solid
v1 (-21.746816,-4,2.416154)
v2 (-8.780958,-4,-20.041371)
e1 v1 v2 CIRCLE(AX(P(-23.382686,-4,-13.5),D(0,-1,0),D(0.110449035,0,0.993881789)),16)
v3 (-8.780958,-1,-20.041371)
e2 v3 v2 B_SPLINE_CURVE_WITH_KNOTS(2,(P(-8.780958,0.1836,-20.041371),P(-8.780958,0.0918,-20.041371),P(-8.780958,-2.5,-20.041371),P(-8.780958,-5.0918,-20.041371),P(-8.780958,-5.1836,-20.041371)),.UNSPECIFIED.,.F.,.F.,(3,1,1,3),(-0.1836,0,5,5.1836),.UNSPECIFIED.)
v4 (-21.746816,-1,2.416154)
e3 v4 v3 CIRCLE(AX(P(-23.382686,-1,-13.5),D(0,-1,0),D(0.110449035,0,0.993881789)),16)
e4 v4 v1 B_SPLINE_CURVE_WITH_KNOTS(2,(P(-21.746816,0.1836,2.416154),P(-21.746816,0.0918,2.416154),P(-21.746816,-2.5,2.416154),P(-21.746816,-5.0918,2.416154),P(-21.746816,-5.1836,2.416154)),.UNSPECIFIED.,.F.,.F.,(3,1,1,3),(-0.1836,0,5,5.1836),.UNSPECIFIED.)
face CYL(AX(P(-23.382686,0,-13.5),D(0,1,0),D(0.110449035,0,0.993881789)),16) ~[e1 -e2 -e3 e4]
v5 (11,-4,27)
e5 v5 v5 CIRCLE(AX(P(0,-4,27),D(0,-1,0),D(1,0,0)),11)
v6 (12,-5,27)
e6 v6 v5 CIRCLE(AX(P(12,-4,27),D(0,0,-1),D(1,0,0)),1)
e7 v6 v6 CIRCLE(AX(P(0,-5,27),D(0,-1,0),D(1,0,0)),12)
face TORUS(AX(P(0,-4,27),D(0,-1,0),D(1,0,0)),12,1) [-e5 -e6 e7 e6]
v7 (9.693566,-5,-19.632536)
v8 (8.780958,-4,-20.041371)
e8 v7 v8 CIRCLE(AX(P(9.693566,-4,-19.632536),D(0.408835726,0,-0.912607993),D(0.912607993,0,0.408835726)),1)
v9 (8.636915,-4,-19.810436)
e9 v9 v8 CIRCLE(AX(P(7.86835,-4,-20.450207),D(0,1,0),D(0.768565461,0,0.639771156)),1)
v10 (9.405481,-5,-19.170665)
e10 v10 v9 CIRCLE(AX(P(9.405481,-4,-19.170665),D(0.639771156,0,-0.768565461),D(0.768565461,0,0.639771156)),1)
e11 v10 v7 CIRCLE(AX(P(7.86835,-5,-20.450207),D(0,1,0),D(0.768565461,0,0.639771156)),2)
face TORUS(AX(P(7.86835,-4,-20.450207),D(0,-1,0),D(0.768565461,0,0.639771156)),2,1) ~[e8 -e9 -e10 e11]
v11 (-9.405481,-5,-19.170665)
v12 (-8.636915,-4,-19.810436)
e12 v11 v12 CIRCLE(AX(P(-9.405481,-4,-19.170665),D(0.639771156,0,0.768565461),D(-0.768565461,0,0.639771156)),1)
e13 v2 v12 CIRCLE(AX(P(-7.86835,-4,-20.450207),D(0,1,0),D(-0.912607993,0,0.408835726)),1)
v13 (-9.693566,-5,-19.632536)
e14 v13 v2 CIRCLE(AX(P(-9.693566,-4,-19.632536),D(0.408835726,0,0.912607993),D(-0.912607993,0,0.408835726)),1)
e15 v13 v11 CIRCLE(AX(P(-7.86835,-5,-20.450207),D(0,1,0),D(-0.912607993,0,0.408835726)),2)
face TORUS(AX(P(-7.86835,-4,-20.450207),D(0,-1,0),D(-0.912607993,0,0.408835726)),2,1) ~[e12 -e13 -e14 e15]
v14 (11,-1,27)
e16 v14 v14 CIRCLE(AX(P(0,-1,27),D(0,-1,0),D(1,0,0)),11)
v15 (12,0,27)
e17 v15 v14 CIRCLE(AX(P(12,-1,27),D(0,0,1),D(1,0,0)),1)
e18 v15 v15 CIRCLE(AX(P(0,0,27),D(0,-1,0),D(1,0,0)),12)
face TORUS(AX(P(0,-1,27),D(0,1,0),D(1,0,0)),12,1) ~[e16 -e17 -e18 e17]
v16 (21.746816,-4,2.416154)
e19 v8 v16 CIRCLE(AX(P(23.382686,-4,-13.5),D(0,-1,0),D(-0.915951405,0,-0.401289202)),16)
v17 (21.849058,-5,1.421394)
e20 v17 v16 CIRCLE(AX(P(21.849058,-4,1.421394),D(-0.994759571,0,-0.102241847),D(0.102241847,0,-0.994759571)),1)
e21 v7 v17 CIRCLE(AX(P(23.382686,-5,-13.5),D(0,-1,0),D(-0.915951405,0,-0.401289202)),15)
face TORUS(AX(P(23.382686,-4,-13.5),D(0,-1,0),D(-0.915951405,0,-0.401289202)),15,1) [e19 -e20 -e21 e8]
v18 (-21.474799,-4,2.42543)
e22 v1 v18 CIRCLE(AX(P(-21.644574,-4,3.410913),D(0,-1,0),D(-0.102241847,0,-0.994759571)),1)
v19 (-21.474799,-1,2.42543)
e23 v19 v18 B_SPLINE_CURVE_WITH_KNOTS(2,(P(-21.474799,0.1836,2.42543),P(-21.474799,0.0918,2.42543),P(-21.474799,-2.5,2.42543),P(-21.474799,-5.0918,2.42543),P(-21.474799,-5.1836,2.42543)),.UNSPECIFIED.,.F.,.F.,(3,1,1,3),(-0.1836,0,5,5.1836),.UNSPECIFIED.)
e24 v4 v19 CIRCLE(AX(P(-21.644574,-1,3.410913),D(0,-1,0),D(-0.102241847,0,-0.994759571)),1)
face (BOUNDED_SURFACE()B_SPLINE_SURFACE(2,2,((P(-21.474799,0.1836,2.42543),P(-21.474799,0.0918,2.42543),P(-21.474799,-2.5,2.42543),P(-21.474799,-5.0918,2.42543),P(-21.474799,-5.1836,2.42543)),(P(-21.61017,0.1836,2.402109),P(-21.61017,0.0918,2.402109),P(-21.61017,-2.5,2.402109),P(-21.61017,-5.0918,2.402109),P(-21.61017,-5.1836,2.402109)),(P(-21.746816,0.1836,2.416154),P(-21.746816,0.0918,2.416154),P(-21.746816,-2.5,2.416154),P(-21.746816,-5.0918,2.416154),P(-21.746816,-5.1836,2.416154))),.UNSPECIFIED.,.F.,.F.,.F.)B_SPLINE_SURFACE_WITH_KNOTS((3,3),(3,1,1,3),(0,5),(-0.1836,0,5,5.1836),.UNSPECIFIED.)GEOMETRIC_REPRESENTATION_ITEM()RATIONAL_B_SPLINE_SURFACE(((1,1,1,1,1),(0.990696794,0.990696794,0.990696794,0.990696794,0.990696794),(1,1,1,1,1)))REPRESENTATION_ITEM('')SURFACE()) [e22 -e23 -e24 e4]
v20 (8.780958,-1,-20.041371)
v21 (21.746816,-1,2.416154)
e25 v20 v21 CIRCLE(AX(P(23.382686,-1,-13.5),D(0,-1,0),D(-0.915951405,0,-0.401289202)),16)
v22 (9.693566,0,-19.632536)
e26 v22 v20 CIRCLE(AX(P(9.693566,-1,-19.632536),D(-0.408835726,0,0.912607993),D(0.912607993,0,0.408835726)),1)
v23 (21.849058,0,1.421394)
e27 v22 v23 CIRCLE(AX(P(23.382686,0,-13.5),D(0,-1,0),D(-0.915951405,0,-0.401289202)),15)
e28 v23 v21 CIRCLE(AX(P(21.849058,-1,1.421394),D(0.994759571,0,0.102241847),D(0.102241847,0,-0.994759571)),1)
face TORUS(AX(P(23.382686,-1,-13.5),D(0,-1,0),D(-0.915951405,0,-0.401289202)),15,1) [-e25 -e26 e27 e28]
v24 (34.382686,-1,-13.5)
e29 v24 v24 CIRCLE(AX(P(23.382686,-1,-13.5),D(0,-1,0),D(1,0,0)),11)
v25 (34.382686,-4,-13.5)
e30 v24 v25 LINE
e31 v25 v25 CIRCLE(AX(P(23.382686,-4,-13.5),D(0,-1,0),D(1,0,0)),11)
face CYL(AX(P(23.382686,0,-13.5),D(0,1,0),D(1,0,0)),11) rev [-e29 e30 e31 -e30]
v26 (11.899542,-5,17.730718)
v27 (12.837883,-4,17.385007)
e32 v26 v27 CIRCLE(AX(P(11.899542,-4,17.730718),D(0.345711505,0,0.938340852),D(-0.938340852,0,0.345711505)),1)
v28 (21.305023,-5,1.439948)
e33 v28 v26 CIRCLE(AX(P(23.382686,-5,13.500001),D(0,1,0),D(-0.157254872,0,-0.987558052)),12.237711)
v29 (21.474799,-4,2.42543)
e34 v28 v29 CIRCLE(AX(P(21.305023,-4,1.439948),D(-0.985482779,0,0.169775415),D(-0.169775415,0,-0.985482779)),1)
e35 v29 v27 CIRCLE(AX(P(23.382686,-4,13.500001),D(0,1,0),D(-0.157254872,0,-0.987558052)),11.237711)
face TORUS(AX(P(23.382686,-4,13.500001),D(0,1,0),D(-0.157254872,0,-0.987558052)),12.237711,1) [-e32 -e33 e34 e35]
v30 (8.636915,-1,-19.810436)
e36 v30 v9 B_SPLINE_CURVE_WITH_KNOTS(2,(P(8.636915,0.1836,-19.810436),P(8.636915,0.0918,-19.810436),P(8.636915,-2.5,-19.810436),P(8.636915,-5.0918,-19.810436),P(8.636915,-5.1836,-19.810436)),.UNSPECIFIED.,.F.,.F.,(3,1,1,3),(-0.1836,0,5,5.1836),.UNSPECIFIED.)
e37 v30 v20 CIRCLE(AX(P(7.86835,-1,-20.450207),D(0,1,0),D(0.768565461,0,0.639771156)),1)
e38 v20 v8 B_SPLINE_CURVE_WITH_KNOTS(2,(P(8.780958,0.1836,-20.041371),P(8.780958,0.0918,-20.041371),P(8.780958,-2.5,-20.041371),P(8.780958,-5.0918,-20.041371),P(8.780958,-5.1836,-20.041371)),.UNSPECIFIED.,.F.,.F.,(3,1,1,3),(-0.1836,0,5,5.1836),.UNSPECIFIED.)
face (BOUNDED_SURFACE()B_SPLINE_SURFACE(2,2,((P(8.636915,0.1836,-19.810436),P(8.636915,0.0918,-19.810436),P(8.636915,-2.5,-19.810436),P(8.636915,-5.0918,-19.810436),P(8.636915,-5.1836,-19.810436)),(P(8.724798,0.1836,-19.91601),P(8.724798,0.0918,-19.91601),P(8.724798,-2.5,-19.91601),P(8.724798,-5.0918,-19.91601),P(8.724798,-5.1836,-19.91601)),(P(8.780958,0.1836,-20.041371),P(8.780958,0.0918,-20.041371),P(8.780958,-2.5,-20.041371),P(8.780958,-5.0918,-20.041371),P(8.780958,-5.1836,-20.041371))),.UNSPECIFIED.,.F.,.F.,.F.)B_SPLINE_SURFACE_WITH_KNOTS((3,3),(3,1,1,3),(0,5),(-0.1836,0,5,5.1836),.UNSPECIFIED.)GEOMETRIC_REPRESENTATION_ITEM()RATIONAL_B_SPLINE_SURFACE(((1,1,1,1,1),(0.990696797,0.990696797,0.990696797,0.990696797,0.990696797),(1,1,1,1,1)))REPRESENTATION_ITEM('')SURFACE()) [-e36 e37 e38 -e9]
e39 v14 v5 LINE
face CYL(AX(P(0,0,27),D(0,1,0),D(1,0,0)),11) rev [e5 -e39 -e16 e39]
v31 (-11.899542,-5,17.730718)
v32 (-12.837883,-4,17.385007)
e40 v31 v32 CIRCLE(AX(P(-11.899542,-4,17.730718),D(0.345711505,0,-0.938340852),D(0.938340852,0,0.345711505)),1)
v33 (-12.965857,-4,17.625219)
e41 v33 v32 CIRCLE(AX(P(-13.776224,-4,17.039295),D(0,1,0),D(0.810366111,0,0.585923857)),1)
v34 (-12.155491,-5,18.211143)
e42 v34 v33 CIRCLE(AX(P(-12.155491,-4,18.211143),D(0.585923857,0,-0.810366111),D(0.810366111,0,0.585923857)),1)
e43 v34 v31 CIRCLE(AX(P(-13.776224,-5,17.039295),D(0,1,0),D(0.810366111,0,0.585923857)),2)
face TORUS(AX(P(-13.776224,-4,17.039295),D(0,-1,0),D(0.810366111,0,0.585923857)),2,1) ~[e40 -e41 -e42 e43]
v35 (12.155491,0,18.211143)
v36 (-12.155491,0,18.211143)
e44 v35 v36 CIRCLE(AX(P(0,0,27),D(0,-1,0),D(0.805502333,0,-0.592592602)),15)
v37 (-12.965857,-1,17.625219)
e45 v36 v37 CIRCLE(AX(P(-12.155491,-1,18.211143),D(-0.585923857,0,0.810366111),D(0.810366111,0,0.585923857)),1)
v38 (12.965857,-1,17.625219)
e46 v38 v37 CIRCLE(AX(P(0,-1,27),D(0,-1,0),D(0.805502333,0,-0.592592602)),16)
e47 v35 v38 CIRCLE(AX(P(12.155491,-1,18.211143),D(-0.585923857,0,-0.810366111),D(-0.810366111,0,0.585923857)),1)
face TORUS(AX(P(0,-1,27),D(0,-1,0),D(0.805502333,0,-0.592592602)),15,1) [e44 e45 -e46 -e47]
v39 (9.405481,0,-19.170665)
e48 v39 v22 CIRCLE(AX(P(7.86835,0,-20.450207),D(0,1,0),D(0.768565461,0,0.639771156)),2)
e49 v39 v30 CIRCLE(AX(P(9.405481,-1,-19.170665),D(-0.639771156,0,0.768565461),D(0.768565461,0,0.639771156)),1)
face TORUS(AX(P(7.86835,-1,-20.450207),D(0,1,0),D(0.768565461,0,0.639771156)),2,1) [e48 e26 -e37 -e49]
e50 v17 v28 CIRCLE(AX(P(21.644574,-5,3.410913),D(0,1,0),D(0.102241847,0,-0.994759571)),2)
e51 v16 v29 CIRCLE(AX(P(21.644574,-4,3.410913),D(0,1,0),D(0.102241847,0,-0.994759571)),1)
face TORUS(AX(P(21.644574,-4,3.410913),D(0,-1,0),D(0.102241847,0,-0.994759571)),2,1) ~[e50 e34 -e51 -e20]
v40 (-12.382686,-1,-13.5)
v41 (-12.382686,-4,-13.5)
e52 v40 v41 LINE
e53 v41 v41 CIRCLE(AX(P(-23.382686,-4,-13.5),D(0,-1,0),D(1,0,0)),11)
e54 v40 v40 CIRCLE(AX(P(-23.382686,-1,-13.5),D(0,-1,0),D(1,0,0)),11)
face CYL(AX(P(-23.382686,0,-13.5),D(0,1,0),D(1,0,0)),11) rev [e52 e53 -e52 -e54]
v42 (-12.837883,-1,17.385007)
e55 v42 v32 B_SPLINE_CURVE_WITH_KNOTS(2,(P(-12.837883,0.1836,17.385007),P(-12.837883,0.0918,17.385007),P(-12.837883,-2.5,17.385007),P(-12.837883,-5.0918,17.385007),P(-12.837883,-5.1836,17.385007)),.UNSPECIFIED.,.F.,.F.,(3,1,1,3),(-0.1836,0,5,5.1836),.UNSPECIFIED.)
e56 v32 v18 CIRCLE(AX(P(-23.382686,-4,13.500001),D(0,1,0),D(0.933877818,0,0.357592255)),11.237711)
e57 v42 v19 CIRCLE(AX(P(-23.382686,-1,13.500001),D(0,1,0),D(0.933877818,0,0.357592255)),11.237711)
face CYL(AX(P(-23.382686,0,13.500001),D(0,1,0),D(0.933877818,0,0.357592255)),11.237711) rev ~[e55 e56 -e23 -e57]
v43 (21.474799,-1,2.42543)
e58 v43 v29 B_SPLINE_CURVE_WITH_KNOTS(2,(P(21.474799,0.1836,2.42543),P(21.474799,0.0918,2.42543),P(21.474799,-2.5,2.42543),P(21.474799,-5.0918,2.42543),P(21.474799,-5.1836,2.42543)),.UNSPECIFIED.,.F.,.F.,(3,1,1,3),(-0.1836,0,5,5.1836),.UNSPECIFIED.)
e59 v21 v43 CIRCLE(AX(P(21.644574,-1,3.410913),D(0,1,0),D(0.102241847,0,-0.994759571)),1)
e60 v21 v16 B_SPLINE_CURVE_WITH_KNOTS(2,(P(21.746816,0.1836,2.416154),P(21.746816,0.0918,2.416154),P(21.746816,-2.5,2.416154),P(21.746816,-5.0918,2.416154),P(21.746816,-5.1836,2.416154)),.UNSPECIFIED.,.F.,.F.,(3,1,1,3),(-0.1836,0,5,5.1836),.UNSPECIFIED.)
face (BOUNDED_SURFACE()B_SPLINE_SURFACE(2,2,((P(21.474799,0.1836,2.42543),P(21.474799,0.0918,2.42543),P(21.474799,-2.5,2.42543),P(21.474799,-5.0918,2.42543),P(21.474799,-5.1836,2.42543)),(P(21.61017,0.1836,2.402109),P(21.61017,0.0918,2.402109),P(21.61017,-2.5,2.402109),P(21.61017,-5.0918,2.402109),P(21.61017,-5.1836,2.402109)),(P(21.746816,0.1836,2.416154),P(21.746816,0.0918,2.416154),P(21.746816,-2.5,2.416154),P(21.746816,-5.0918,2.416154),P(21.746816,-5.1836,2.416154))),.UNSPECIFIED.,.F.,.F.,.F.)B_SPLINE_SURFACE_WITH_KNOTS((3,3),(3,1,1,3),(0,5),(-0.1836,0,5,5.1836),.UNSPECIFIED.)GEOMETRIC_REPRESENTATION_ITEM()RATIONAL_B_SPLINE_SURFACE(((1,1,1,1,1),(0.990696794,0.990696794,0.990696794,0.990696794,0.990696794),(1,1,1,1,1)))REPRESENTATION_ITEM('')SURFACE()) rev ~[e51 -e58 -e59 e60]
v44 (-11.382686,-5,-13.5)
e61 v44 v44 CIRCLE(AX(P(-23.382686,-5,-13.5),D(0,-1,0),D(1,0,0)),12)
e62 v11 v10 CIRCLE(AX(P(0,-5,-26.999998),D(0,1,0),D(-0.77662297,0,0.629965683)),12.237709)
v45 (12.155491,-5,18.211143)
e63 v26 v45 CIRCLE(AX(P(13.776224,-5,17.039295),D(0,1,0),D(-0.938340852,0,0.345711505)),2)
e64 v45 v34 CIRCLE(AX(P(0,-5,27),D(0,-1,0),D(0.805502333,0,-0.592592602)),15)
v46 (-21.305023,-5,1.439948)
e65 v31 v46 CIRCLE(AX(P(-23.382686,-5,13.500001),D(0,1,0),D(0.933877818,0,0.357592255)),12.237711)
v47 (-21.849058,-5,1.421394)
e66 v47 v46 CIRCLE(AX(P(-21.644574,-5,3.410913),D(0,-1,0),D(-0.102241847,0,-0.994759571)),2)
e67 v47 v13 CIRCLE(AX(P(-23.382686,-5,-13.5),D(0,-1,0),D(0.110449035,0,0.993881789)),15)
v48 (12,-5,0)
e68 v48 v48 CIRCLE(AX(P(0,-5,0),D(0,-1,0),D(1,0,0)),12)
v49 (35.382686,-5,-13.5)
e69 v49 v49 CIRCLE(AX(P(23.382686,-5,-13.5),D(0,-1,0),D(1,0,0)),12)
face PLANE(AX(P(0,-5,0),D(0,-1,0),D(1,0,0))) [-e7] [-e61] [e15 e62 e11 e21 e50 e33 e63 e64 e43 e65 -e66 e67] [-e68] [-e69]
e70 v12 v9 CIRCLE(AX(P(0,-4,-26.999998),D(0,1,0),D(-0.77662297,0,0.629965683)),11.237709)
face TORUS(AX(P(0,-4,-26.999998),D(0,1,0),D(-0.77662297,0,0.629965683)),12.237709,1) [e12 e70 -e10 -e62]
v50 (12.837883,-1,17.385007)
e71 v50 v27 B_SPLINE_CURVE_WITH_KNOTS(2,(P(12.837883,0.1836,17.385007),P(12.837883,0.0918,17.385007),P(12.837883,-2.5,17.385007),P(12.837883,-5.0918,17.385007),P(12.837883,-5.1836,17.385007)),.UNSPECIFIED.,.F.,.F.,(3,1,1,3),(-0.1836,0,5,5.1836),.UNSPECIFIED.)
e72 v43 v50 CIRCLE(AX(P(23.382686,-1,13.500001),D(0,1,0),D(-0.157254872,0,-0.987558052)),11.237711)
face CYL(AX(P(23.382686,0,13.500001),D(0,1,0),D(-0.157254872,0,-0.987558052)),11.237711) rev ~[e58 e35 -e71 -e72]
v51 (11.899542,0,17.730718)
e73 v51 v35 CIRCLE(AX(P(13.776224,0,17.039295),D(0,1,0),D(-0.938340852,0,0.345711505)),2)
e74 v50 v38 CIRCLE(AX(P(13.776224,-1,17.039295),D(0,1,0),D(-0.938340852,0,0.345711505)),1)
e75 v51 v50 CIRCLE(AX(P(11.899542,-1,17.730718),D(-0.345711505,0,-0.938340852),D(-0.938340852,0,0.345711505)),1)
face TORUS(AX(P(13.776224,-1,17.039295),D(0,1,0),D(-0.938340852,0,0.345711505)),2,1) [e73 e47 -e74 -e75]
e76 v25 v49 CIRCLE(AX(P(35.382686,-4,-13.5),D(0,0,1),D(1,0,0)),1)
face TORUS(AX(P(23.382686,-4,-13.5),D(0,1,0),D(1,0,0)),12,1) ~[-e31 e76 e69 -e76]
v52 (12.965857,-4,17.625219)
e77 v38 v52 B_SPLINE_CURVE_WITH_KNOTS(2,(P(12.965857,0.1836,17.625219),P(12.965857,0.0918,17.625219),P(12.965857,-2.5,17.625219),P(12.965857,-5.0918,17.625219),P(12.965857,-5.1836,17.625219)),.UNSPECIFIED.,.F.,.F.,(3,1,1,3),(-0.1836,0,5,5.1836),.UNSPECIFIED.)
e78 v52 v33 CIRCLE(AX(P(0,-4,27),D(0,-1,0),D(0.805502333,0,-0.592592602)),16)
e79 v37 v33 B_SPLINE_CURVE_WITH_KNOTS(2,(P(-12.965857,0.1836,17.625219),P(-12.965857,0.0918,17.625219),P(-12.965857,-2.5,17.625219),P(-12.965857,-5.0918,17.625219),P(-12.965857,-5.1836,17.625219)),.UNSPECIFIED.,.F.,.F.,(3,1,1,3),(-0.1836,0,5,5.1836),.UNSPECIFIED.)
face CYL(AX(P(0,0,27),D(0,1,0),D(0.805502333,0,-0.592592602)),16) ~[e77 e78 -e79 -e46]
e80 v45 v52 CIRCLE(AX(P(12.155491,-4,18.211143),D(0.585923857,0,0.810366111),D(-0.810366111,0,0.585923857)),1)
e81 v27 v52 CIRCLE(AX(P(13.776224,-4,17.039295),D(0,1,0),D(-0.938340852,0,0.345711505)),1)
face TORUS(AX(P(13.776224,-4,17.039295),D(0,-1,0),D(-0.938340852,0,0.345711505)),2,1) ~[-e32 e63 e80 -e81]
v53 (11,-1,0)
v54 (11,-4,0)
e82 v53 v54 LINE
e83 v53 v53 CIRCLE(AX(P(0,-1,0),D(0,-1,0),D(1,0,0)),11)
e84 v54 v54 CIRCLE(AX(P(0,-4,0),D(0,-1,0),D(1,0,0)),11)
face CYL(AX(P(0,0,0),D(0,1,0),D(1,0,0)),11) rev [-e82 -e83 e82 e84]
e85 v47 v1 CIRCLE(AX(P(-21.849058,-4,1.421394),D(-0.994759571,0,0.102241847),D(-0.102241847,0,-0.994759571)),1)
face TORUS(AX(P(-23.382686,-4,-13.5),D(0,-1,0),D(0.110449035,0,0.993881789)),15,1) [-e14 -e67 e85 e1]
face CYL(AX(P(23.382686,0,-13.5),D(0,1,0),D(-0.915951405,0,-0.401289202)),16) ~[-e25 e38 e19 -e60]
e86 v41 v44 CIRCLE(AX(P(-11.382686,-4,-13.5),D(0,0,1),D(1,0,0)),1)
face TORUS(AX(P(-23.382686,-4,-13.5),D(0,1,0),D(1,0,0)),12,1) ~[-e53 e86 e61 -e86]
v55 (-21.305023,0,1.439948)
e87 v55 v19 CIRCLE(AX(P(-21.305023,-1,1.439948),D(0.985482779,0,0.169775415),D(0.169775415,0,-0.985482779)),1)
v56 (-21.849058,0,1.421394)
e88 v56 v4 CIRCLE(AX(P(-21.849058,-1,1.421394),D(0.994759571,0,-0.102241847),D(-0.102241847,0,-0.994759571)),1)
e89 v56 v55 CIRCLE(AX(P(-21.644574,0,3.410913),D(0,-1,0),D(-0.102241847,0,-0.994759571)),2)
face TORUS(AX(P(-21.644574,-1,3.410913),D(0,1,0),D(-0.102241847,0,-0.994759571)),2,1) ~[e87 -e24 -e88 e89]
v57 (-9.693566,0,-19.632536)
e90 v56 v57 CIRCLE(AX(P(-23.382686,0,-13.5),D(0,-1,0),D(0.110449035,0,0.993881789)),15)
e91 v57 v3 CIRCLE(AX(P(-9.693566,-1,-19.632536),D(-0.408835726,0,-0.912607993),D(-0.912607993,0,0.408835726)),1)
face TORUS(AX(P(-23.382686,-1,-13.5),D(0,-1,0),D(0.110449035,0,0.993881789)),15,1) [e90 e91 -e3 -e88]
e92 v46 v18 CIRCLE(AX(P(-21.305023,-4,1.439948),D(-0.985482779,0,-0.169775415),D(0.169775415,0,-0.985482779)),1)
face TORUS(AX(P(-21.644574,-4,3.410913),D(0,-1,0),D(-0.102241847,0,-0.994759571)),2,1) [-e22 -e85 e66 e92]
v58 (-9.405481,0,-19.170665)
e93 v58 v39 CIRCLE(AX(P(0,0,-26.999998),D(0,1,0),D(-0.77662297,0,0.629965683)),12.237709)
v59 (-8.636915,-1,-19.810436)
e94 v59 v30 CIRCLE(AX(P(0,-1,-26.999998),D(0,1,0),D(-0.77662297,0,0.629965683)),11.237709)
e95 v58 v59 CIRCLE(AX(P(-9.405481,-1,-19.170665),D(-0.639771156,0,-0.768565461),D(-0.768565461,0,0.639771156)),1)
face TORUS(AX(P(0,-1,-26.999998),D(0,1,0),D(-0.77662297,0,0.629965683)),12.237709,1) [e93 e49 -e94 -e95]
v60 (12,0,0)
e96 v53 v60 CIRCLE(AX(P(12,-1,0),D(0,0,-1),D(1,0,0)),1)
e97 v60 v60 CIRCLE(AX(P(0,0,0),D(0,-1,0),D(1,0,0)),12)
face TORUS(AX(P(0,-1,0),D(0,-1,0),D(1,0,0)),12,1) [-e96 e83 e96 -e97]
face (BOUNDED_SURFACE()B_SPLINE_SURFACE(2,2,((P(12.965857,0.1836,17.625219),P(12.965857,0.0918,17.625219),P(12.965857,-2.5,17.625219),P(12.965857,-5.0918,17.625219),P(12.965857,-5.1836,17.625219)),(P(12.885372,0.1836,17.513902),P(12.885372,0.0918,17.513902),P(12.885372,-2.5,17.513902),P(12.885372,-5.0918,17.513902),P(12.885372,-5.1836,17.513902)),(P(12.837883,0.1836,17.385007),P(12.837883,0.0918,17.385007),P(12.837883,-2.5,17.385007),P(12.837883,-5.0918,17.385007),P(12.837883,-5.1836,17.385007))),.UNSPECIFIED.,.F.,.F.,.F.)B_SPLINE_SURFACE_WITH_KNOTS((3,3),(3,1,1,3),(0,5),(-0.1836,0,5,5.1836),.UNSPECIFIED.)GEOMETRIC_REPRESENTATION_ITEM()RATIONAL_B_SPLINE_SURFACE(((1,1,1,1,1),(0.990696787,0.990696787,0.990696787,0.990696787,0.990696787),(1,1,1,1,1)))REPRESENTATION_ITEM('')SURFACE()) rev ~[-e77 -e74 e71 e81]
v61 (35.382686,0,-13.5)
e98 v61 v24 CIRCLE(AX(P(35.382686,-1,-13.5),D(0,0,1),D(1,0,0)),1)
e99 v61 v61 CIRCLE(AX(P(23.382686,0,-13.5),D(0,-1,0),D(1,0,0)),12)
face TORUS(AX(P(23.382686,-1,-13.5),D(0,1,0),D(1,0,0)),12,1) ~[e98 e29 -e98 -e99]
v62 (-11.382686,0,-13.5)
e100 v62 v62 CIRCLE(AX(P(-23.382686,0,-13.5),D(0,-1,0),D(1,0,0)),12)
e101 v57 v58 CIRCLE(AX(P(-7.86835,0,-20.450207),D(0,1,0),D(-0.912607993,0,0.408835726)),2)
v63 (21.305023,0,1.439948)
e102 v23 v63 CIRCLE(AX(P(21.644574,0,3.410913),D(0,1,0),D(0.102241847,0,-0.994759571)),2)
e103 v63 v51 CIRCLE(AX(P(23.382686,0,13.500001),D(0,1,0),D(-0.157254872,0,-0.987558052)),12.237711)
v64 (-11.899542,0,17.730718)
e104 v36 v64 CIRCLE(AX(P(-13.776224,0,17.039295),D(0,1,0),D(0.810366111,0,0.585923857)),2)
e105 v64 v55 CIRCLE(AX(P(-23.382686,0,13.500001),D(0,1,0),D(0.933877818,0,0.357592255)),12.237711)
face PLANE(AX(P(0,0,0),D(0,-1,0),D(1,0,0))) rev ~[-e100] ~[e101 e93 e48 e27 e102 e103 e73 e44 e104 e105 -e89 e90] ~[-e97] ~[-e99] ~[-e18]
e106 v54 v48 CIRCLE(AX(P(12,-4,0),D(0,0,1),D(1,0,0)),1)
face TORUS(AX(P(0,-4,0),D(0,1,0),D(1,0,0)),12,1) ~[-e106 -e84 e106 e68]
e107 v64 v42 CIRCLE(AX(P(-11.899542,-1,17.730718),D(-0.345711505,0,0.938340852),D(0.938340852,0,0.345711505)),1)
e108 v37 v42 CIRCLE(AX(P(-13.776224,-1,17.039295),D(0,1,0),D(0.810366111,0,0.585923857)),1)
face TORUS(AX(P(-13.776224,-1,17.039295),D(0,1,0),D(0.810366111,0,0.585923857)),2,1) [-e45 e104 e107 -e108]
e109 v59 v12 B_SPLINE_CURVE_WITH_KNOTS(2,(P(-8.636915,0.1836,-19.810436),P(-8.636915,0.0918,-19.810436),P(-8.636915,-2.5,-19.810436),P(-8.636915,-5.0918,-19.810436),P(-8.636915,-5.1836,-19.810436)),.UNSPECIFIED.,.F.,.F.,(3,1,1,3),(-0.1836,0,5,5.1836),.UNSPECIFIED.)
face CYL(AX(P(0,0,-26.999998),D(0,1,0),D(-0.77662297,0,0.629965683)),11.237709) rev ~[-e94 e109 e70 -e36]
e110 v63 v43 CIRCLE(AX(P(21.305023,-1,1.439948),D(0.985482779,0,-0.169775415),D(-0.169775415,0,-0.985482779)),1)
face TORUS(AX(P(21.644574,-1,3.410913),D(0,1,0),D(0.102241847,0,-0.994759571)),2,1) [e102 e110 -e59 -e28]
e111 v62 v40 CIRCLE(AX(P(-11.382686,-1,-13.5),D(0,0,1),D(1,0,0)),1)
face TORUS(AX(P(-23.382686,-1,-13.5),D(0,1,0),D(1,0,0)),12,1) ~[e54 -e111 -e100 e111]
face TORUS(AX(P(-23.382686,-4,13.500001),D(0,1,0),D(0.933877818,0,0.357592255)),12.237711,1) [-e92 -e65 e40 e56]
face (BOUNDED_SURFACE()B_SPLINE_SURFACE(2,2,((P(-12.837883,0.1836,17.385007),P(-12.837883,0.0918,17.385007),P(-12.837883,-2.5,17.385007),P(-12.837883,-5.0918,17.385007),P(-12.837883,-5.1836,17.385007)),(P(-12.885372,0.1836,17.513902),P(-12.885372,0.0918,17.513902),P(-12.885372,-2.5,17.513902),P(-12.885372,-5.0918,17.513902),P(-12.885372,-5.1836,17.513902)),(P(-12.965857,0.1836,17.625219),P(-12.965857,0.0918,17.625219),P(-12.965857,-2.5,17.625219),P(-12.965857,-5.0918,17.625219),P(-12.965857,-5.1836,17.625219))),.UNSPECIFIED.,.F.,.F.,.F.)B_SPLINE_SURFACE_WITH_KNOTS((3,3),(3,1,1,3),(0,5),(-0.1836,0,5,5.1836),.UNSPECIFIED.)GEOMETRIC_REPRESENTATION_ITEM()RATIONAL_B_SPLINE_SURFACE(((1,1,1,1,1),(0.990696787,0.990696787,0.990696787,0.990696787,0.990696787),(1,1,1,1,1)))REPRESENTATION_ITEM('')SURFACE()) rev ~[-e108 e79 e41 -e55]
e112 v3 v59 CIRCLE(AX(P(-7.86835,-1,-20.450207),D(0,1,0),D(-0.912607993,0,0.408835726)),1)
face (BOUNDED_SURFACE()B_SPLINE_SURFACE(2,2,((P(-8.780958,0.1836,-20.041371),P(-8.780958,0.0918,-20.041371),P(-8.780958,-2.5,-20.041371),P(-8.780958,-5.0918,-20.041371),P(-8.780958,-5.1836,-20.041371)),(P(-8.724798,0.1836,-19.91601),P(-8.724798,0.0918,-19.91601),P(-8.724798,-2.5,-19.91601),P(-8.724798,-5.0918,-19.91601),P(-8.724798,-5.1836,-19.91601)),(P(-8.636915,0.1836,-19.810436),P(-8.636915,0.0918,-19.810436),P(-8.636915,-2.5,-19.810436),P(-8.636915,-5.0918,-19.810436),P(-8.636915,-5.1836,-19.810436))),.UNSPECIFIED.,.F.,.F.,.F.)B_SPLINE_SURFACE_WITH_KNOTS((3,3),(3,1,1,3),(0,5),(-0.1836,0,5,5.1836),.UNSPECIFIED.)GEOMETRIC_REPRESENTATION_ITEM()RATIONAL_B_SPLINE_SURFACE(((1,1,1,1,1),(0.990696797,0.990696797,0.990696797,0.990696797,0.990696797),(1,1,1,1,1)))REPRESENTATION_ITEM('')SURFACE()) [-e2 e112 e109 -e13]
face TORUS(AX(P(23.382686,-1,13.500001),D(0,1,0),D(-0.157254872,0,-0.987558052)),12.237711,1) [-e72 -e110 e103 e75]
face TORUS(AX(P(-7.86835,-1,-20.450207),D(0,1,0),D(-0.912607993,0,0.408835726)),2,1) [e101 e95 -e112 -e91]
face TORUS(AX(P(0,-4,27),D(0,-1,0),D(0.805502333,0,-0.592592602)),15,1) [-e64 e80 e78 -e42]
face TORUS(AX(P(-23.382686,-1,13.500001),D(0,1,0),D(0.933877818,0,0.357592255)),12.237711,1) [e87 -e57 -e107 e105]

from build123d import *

# Parameters (mm, degrees)
F0_R     = 11
F1_DEPTH = 5
F2_R     = 1
F3_R     = 1
F4_R     = 1
F5_R     = 1
F6_R     = 1


with BuildPart() as f1:
    # F0 (on Front) → F1 (new body)
    with BuildSketch(Plane.XZ):
        with BuildLine():
            ThreePointArc((-12.888037, 17.518519), (-13.650543, 7.881145), (-21.615501, 2.402109))
            ThreePointArc((-21.615501, 2.402109), (-37.239092, -21.5), (-8.727463, -19.920627))
            ThreePointArc((-8.727463, -19.920627), (0, -15.762289), (8.727463, -19.920627))
            ThreePointArc((8.727463, -19.920627), (37.239092, -21.5), (21.615501, 2.402109))
            ThreePointArc((21.615501, 2.402109), (13.650543, 7.881145), (12.888037, 17.518519))
            ThreePointArc((12.888037, 17.518519), (0, 43), (-12.888037, 17.518519))
        make_face()
        with Locations((-23.382686, -13.5)):
            Circle(F0_R, mode=Mode.SUBTRACT)
        with Locations((23.382686, -13.5)):
            Circle(F0_R, mode=Mode.SUBTRACT)
        Circle(F0_R, mode=Mode.SUBTRACT)
        with Locations((0, 27)):
            Circle(F0_R, mode=Mode.SUBTRACT)
    extrude(amount=F1_DEPTH)

    # F2
    f2_edges = [f1.edges().sort_by_distance(p)[0] for p in [
        (11, -2.5, 0),
        (-11, 0, 0),
        (-11, -5, 0),
    ]]
    fillet(f2_edges, radius=F2_R)

    # F3
    f3_edges = [f1.edges().sort_by_distance(p)[0] for p in [
        (11, -2.5, 27),
        (-11, 0, 27),
        (-11, -5, 27),
    ]]
    fillet(f3_edges, radius=F3_R)

    # F4
    f4_edges = [f1.edges().sort_by_distance(p)[0] for p in [
        (34.382686, -2.5, -13.5),
        (12.382686, 0, -13.5),
        (12.382686, -5, -13.5),
    ]]
    fillet(f4_edges, radius=F4_R)

    # F5
    f5_edges = [f1.edges().sort_by_distance(p)[0] for p in [
        (-12.382686, -2.5, -13.5),
        (-34.382686, 0, -13.5),
        (-34.382686, -5, -13.5),
    ]]
    fillet(f5_edges, radius=F5_R)

    # F6
    f6_edges = [f1.edges().sort_by_distance(p)[0] for p in [
        (-21.615501, -2.5, 2.402109),
        (-8.727463, -2.5, -19.920627),
        (-37.239092, 0, -21.5),
        (-37.239092, -5, -21.5),
        (8.727463, -2.5, -19.920627),
        (0, 0, -15.762289),
        (0, -5, -15.762289),
        (21.615501, -2.5, 2.402109),
        (37.239092, 0, -21.5),
        (37.239092, -5, -21.5),
        (12.888037, -2.5, 17.518519),
        (13.650543, 0, 7.881145),
        (13.650543, -5, 7.881145),
        (-12.888037, -2.5, 17.518519),
        (0, 0, 43),
        (0, -5, 43),
        (-13.650543, 0, 7.881145),
        (-13.650543, -5, 7.881145),
    ]]
    fillet(f6_edges, radius=F6_R)


solid = f1.part
